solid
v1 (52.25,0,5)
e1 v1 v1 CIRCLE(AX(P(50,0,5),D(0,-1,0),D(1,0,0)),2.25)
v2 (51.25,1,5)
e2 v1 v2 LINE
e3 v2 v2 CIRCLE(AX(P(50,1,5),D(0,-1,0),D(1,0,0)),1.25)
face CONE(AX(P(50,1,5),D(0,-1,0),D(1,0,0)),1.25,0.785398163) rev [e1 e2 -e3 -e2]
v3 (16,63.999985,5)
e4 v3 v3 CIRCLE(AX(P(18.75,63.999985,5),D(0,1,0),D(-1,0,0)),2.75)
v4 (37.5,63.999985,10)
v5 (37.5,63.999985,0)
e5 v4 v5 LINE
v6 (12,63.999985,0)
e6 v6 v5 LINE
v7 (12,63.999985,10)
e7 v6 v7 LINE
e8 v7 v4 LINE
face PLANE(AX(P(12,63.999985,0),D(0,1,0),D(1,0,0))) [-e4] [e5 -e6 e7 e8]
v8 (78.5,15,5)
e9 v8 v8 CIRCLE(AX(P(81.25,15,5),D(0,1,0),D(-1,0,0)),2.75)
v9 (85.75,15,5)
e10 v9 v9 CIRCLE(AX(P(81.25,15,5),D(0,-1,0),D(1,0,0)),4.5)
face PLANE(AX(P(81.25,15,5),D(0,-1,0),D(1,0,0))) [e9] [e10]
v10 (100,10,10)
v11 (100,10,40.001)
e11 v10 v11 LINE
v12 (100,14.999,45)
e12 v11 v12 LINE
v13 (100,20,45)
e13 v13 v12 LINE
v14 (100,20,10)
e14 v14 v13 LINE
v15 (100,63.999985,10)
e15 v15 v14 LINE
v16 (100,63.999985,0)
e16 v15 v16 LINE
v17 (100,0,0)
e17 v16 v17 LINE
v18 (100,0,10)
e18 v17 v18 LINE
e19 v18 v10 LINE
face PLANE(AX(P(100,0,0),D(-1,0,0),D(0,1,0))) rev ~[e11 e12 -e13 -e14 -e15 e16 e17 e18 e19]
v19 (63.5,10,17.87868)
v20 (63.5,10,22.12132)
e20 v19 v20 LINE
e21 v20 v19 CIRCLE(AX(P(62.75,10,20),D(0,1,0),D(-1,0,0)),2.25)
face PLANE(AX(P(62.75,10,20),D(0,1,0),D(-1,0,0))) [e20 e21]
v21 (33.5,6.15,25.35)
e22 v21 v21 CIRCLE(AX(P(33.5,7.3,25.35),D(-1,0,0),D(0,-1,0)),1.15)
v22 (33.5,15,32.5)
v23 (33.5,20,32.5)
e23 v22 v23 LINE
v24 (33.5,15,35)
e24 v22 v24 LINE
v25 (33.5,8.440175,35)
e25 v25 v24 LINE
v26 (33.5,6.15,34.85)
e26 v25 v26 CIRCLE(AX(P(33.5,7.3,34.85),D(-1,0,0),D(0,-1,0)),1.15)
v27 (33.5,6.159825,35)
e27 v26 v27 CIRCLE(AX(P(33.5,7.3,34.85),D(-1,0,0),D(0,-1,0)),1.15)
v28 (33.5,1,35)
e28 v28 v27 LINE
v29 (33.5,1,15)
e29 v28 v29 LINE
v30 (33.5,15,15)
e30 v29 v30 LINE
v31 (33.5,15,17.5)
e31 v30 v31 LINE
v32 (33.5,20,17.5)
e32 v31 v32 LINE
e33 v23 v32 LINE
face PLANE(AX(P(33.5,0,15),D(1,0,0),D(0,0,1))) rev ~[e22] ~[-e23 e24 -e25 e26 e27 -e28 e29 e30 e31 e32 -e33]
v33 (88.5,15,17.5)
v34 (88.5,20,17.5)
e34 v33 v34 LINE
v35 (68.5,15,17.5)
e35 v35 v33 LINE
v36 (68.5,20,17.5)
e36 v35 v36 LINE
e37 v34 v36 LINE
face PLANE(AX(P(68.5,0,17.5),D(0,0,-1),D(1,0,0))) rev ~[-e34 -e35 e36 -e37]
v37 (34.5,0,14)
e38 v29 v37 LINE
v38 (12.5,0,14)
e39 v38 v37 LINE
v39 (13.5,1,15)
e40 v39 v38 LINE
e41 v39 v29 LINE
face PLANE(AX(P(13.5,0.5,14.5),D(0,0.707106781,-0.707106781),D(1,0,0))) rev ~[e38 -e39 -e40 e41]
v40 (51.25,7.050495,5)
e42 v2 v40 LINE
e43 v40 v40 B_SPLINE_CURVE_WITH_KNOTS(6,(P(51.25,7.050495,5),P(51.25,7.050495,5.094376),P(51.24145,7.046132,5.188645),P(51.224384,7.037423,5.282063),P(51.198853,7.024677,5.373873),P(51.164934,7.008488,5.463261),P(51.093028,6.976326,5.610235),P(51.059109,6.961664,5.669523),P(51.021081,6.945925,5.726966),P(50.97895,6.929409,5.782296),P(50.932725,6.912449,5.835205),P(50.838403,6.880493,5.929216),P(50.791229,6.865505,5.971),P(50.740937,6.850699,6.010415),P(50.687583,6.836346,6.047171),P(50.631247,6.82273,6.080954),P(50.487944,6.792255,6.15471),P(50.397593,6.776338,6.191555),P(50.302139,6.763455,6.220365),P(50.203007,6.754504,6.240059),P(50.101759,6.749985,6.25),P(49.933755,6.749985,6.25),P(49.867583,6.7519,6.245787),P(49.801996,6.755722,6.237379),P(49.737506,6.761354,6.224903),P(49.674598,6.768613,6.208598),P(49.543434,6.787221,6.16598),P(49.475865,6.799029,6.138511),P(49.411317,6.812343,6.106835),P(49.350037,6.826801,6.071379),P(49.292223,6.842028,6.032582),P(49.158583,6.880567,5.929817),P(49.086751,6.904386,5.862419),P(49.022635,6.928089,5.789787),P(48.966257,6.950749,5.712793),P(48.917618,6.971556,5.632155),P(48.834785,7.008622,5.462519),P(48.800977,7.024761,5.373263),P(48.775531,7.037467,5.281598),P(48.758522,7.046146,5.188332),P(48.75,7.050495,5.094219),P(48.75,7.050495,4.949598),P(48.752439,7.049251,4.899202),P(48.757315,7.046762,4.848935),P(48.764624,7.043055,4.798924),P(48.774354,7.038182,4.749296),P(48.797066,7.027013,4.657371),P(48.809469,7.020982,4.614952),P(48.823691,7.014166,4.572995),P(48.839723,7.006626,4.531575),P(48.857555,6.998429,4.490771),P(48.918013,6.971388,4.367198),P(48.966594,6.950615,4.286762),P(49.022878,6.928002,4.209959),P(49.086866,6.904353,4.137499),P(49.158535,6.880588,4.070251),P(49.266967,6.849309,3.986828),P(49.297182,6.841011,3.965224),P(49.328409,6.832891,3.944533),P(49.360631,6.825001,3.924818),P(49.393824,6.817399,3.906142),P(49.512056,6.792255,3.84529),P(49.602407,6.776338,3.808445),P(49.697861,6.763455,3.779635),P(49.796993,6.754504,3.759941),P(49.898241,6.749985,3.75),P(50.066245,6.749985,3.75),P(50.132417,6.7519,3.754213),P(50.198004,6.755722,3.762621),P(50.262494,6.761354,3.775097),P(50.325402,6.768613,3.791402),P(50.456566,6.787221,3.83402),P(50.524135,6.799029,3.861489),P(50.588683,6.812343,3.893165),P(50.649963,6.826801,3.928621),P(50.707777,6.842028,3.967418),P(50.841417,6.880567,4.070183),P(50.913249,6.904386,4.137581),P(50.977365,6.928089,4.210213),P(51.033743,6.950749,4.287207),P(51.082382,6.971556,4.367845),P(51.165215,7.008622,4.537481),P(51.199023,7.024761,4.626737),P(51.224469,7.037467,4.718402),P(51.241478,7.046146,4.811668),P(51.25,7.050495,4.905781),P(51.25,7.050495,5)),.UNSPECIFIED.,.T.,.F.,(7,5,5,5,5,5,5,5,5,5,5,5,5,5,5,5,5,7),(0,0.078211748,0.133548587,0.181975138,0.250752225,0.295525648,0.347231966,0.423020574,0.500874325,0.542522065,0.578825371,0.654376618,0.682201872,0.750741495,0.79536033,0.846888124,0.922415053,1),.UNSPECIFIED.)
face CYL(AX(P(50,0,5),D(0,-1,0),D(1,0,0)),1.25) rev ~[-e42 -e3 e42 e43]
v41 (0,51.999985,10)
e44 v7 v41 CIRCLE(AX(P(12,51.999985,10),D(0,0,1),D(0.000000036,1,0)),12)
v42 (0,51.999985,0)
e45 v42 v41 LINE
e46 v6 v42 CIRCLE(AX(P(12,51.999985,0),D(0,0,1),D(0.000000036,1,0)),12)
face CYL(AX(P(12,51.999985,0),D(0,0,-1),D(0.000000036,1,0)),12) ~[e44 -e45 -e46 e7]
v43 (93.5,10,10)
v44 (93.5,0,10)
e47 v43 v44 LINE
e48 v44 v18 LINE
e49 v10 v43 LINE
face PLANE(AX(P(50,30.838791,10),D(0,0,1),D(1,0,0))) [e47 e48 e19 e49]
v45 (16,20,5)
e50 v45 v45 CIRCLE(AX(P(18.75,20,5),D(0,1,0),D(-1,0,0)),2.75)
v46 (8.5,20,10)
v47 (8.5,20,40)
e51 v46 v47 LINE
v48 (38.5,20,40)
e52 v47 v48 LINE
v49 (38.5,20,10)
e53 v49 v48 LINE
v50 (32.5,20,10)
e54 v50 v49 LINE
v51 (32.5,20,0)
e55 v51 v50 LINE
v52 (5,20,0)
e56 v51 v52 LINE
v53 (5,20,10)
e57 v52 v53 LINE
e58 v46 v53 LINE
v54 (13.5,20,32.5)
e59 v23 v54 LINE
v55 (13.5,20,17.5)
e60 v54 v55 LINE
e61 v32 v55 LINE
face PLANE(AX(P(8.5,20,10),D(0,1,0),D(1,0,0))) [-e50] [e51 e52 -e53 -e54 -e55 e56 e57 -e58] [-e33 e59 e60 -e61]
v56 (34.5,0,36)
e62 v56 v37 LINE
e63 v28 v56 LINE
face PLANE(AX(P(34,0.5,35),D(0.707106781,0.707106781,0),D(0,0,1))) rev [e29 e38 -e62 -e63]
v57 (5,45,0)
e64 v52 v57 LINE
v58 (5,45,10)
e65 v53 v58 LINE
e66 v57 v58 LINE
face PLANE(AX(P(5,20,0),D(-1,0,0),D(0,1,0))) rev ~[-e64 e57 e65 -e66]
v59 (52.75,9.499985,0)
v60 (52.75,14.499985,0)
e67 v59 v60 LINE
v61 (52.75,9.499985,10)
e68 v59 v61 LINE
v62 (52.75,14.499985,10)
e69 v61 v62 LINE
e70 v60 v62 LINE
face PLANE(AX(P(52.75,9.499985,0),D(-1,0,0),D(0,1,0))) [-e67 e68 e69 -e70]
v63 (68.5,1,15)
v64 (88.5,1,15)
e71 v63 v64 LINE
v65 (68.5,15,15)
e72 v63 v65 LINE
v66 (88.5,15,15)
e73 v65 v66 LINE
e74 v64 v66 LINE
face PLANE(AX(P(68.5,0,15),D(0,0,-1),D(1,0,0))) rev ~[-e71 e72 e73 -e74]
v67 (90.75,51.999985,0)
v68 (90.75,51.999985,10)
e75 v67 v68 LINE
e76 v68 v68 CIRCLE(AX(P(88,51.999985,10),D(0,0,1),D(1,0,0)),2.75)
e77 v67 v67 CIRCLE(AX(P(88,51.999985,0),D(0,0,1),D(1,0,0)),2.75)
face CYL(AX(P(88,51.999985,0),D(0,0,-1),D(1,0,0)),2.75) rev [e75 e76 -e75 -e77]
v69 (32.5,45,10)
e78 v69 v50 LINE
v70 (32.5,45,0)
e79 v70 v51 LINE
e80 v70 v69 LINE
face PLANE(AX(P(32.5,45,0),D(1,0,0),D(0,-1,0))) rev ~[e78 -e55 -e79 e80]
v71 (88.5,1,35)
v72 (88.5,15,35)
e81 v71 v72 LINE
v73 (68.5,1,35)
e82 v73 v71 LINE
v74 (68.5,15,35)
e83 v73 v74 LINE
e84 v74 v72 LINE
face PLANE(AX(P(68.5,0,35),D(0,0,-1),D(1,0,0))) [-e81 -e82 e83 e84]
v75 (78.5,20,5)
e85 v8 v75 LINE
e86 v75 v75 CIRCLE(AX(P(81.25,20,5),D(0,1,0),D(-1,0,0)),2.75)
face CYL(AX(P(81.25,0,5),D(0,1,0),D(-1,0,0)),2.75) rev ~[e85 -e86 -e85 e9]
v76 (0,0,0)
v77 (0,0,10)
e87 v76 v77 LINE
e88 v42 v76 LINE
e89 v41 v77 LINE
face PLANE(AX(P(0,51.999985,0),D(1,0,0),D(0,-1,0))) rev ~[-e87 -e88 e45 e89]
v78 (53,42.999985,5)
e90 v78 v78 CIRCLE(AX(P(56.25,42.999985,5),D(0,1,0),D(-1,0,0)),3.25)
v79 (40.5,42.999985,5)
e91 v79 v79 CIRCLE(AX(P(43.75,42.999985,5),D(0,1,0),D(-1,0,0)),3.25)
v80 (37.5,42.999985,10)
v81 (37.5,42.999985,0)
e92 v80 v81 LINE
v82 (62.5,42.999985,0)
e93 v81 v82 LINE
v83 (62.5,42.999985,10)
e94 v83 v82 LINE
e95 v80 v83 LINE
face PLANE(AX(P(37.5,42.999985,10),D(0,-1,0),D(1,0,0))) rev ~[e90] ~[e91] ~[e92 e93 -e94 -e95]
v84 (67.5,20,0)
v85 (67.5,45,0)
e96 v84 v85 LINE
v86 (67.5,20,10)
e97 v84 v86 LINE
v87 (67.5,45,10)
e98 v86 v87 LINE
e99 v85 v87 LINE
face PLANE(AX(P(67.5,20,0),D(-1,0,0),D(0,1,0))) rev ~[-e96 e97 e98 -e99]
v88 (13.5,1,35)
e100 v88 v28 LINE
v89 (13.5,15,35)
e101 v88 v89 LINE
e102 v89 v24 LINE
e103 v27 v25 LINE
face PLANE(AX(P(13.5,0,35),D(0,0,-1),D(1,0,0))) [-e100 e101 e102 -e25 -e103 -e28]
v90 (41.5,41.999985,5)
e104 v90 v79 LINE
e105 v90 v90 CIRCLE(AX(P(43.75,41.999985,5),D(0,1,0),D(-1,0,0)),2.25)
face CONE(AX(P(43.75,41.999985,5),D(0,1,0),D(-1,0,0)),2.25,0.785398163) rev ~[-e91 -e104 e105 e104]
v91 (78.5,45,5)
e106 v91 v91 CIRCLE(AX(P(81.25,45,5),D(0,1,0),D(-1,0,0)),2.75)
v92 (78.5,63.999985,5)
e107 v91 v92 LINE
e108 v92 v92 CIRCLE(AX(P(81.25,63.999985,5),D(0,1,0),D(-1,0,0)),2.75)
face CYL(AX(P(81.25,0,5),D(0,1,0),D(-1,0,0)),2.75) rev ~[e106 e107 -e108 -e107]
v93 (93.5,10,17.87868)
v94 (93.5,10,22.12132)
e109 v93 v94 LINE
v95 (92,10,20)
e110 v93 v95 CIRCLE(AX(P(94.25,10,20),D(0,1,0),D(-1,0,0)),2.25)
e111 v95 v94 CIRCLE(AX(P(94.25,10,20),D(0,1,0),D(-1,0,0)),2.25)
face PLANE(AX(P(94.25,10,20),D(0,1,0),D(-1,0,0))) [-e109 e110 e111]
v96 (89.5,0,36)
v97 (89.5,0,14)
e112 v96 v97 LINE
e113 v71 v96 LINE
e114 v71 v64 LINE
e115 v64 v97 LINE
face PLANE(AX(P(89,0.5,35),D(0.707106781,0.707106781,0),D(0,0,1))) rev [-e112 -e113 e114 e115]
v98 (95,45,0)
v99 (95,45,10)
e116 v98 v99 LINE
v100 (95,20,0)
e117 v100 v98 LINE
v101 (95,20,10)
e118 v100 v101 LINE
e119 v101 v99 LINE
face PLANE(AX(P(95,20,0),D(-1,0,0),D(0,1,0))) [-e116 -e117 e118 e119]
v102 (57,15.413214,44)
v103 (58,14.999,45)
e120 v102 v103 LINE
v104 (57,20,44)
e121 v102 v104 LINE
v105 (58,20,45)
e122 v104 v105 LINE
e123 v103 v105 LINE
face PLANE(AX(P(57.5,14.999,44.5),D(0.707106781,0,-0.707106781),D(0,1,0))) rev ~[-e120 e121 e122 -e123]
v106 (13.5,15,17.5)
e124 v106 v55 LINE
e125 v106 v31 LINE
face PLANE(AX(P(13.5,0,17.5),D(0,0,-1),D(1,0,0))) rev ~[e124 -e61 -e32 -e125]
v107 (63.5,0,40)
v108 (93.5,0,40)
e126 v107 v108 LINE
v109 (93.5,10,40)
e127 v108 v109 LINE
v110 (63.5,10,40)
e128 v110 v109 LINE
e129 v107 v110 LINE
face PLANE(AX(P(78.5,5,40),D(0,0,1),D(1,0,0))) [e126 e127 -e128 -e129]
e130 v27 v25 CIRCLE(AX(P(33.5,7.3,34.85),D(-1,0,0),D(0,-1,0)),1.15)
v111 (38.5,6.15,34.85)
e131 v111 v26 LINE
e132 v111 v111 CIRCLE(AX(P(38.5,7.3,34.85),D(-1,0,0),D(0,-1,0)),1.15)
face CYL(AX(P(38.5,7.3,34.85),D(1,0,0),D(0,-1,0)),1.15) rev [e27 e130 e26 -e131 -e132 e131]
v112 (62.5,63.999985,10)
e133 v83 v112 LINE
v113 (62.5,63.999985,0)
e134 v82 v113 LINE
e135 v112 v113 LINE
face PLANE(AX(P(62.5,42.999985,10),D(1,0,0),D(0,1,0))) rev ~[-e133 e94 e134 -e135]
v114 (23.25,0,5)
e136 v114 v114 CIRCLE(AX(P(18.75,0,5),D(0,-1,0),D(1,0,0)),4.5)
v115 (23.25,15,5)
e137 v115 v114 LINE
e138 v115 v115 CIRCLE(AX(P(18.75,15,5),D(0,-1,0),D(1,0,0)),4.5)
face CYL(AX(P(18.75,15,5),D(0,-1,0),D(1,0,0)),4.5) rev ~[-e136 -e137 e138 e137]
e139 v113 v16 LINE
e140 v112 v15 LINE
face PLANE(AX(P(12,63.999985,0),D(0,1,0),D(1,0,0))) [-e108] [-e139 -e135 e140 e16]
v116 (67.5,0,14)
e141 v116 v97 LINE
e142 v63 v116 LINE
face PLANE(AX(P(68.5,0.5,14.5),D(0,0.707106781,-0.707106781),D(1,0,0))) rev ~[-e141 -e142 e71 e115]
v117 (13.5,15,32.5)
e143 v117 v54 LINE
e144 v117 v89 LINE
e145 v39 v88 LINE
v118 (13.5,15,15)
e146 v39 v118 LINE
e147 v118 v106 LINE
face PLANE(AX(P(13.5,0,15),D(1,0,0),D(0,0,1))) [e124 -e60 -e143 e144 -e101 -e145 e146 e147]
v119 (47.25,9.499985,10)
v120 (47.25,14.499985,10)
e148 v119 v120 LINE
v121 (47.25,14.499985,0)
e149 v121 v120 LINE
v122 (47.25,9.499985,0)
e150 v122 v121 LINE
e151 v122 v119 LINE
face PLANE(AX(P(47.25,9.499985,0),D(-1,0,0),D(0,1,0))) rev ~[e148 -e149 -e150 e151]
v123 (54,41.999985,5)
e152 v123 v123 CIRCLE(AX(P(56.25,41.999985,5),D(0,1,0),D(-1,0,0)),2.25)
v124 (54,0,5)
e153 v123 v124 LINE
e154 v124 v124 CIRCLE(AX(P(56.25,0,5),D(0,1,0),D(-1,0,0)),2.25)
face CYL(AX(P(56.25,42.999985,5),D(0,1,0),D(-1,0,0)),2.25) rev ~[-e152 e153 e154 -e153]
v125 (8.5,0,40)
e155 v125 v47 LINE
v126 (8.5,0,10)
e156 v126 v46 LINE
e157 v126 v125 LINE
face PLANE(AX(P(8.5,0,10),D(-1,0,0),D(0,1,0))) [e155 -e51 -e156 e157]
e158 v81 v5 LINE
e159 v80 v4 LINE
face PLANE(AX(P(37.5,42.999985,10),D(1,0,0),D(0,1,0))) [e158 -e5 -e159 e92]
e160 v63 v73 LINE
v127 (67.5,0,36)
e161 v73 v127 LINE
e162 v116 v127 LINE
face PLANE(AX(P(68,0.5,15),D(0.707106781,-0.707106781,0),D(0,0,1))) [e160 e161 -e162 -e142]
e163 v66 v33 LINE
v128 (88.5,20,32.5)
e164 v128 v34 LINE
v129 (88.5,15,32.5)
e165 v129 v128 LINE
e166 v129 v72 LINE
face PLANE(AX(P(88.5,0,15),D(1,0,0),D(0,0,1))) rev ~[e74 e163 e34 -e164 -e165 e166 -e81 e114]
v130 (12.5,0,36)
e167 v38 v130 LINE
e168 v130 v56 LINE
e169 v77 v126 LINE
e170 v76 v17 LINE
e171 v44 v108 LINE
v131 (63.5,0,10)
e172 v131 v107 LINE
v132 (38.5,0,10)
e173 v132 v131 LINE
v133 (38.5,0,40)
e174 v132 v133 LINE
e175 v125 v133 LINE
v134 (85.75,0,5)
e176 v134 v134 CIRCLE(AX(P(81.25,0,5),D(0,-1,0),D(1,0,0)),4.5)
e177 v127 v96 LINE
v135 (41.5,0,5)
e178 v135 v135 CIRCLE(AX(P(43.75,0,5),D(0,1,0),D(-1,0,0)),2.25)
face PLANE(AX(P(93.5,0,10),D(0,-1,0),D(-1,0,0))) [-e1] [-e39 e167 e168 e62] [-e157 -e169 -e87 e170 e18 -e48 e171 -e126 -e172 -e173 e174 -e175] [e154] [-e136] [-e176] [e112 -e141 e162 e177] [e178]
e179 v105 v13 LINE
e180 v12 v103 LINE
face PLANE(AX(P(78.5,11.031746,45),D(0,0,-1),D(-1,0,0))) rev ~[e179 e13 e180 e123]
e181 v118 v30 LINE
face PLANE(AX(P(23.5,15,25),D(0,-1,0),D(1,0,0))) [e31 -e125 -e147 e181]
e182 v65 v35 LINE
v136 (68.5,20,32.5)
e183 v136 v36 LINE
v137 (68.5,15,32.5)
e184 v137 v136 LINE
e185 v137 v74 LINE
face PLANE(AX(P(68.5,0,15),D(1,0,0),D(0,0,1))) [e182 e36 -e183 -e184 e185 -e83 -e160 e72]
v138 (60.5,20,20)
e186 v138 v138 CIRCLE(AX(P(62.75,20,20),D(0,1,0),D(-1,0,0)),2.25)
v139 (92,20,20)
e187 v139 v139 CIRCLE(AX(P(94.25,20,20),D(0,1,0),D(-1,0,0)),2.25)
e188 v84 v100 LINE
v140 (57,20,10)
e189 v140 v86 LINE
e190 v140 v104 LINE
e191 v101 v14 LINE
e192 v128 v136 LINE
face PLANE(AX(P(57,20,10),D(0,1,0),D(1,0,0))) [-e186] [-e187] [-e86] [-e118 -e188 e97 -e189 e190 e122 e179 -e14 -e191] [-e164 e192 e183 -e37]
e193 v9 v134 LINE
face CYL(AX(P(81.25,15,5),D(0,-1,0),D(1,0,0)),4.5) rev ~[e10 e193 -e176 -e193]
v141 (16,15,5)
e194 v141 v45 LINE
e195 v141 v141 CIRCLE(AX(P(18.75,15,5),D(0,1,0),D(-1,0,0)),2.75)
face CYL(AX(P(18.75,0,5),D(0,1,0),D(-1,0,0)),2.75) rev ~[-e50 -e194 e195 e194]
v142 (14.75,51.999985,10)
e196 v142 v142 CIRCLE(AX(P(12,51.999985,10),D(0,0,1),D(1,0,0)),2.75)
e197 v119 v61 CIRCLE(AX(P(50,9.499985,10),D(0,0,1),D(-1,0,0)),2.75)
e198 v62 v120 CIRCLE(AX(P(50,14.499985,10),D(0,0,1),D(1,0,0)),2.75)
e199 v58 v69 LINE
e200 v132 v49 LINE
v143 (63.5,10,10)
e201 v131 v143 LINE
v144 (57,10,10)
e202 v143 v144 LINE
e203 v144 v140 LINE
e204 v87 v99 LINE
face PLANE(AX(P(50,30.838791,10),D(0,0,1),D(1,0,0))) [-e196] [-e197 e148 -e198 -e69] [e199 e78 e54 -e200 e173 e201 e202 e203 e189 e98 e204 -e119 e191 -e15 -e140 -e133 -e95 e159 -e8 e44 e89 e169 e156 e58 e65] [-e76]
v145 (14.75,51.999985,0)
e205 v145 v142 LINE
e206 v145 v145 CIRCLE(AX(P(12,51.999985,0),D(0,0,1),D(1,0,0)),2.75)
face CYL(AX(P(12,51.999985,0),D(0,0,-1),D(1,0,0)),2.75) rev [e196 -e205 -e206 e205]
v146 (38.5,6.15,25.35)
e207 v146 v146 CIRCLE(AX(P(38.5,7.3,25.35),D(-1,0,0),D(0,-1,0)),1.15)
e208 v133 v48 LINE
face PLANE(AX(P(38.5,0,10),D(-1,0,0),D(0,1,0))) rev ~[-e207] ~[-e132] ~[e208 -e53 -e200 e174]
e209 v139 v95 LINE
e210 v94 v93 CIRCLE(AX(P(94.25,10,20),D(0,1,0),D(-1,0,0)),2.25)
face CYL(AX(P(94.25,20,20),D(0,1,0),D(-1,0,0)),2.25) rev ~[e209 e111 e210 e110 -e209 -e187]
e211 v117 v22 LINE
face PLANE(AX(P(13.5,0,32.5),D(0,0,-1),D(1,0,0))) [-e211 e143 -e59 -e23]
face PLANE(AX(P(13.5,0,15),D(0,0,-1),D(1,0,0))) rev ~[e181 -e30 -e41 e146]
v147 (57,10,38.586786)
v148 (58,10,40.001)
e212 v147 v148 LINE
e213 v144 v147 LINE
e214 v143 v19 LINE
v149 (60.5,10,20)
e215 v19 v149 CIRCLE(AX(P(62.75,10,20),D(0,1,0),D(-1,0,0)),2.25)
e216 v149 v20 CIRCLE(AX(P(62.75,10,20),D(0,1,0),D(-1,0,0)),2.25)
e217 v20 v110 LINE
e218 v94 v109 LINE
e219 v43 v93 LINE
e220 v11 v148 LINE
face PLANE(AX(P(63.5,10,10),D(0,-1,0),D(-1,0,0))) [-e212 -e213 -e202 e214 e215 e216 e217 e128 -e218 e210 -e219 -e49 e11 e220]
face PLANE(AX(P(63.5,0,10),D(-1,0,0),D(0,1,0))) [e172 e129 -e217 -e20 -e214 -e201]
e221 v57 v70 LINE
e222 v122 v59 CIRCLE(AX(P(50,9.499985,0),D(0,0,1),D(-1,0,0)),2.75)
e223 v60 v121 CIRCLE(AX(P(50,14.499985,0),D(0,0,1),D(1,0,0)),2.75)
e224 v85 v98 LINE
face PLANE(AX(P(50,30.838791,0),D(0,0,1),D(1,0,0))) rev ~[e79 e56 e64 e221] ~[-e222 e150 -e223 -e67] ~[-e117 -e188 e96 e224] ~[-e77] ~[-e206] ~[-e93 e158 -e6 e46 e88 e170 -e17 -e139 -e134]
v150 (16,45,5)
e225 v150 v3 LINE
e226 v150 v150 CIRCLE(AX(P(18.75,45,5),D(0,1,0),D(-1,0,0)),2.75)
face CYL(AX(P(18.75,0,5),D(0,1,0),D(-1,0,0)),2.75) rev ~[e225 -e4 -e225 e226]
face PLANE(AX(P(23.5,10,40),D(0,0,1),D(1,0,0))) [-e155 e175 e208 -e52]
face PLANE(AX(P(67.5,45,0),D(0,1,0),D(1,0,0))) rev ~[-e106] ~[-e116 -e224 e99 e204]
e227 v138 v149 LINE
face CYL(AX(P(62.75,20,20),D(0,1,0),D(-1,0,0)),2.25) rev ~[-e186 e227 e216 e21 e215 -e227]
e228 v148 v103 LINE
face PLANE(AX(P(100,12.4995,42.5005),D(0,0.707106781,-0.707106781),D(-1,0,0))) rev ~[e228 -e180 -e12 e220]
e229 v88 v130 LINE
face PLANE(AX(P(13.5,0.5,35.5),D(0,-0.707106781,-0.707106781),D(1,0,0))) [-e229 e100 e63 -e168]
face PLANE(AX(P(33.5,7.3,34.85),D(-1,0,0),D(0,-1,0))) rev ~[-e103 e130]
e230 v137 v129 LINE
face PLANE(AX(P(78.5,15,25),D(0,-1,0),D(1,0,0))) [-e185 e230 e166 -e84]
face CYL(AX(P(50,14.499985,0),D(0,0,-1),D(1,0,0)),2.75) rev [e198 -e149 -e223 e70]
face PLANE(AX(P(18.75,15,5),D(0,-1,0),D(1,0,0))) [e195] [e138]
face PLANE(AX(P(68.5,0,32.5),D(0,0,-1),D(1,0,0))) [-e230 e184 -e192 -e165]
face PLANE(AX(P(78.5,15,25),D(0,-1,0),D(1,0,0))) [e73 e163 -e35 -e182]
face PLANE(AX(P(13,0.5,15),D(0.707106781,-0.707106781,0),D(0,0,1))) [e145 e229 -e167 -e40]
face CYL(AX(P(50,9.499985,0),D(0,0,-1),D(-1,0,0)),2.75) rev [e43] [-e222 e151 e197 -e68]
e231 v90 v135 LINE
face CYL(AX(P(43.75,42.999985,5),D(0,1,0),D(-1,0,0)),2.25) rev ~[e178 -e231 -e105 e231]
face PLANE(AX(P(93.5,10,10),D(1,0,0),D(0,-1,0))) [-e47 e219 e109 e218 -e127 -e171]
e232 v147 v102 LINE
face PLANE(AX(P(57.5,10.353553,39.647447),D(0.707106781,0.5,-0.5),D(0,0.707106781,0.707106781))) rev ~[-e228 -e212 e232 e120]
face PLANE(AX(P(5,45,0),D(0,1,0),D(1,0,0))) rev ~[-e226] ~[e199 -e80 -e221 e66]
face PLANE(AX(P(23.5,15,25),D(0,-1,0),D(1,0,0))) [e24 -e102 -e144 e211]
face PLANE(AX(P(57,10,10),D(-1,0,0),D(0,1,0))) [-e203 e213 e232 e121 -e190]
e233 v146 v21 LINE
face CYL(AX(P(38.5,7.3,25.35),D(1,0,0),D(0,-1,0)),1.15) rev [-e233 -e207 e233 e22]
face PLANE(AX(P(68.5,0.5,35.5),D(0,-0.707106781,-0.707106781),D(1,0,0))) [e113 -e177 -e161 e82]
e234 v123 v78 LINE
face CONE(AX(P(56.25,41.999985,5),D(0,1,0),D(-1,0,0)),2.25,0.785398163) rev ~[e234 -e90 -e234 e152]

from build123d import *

# Parameters (mm, degrees)
SKETCH_R         = 2.75
SKETCH_W         = 27.5
SKETCH_H         = 25
PAD_DEPTH        = 10
SKETCH001_W      = 30
SKETCH001_H      = 20
PAD001_DEPTH     = 30
PAD002_DEPTH     = 35
SKETCH003_W      = 20
SKETCH003_H      = 20
POCKET_DEPTH     = 15
SKETCH004_W      = 20
SKETCH004_H      = 15
POCKET001_DEPTH  = 64.000985
HOLE_D           = 5.5
HOLE_CBORE_D     = 9
HOLE_CBORE_DEPTH = 15
POCKET003_DEPTH  = 10.001
SKETCH011_W      = 30
SKETCH011_H      = 10
POCKET004_DEPTH  = 5
CHAMFER_SIZE     = 4.999
SKETCH012_R      = 2.25
HOLE001_DEPTH    = 10
SKETCH013_W      = 25
SKETCH013_H      = 21
POCKET005_DEPTH  = 10.001
SKETCH014_R      = 2.25
HOLE002_DEPTH    = 43.000985
SKETCH015_R      = 1.15
POCKET006_DEPTH  = 5
PAD003_DEPTH     = 10
CHAMFER001_SIZE  = 1
SKETCH017_R      = 1.25
HOLE003_DEPTH    = 10
HOLE003_TIPS_R   = 1.25
CHAMFER002_SIZE  = 1


with BuildPart() as part:
    # Sketch → Pad (new body)
    with BuildSketch(Plane.XY):
        with BuildLine():
            Line((100, 0), (100, 51.999985))
            ThreePointArc((100, 51.999985), (96.485281, 60.485267), (88, 63.999985))
            Line((12, 63.999985), (88, 63.999985))
            ThreePointArc((12, 63.999985), (3.514719, 60.485267), (0, 51.999985))
            Line((0, 51.999985), (0, 0))
            Line((0, 0), (100, 0))
        make_face()
        with Locations((12, 51.999985)):
            Circle(SKETCH_R, mode=Mode.SUBTRACT)
        with Locations((88, 51.999985)):
            Circle(SKETCH_R, mode=Mode.SUBTRACT)
        Polygon((32.5, 45), (32.5, 20), (5, 20), (5, 45), (18.75, 45), align=None, mode=Mode.SUBTRACT)
        with Locations((81.25, 32.5)):
            Rectangle(SKETCH_W, SKETCH_H, mode=Mode.SUBTRACT)
        with BuildLine():
            ThreePointArc((47.25, 9.499985), (50, 6.749985), (52.75, 9.499985))
            Line((52.75, 9.499985), (52.75, 14.499985))
            ThreePointArc((52.75, 14.499985), (50, 17.249985), (47.25, 14.499985))
            Line((47.25, 9.499985), (47.25, 14.499985))
        make_face(mode=Mode.SUBTRACT)
    extrude(amount=PAD_DEPTH)

    # Sketch001 (on Face23 of Pad) → Pad001 (join)
    with BuildSketch(Plane.XY.offset(10)):
        with Locations((23.5, 10)):
            Rectangle(SKETCH001_W, SKETCH001_H)
    extrude(amount=PAD001_DEPTH)

    # Sketch002 (on Face5 of Pad001) → Pad002 (join)
    with BuildSketch(Plane.XY.offset(10)):
        Polygon((63.5, 10), (57, 10), (57, 20), (100, 20), (100, 10), (93.5, 10), (93.5, 0), (63.5, 0), align=None)
    extrude(amount=PAD002_DEPTH)

    # Sketch003 (on Face9 of Pad002) → Pocket (cut)
    with BuildSketch(Plane.XZ):
        with Locations((23.5, 25)):
            Rectangle(SKETCH003_W, SKETCH003_H)
        with Locations((78.5, 25)):
            Rectangle(SKETCH003_W, SKETCH003_H)
    extrude(amount=-POCKET_DEPTH, mode=Mode.SUBTRACT)

    # Sketch004 (on Face9 of Pocket) → Pocket001 (cut, through all)
    with BuildSketch(Plane.XZ):
        with Locations((23.5, 25)):
            Rectangle(SKETCH004_W, SKETCH004_H)
        with Locations((78.5, 25)):
            Rectangle(SKETCH004_W, SKETCH004_H)
    extrude(amount=-POCKET001_DEPTH, mode=Mode.SUBTRACT)

    # Hole (through all)
    with Locations(Plane.XZ):
        with Locations((81.25, 5), (18.75, 5)):
            CounterBoreHole(HOLE_D / 2, HOLE_CBORE_D / 2, HOLE_CBORE_DEPTH)

    # Sketch010 → Pocket003 (cut, through all)
    with BuildSketch(Plane.XY.offset(10)):
        with BuildLine():
            ThreePointArc((47.748891, 59.001218), (44.998891, 61.751218), (42.248891, 59.001218))
            Line((42.248891, 59.001218), (42.248891, 54.001218))
            ThreePointArc((42.248891, 54.001218), (44.998891, 51.251218), (47.748891, 54.001218))
            Line((47.748891, 59.001218), (47.748891, 54.001218))
        make_face()
        with BuildLine():
            ThreePointArc((57.748891, 59.001218), (54.998891, 61.751218), (52.248891, 59.001218))
            Line((52.248891, 59.001218), (52.248891, 54.001218))
            ThreePointArc((52.248891, 54.001218), (54.998891, 51.251218), (57.748891, 54.001218))
            Line((57.748891, 59.001218), (57.748891, 54.001218))
        make_face()
    extrude(amount=-POCKET003_DEPTH, mode=Mode.SUBTRACT)

    # Sketch011 (on Face41 of Pocket003) → Pocket004 (cut)
    with BuildSketch(Plane.XY.offset(45)):
        with Locations((78.5, 5)):
            Rectangle(SKETCH011_W, SKETCH011_H)
    extrude(amount=-POCKET004_DEPTH, mode=Mode.SUBTRACT)

    # Chamfer
    chamfer_edges = [part.edges().sort_by_distance(p)[0] for p in [
        (60.25, 10, 45),
        (78.5, 10, 45),
        (96.75, 10, 45),
    ]]
    chamfer(chamfer_edges, length=CHAMFER_SIZE)

    # Sketch012 (on Face6 of Chamfer) → Hole001 (cut)
    with BuildSketch(Plane(origin=(0, 20, 0), x_dir=(-1, 0, 0), z_dir=(0, 1, 0))):
        with Locations((-94.25, 20)):
            Circle(SKETCH012_R)
        with Locations((-62.75, 20)):
            Circle(SKETCH012_R)
    extrude(amount=-HOLE001_DEPTH, mode=Mode.SUBTRACT)

    # Sketch013 (on Face15 of Hole001) → Pocket005 (cut, through all)
    with BuildSketch(Plane.XY.offset(10)):
        with Locations((50, 53.499985)):
            Rectangle(SKETCH013_W, SKETCH013_H)
    extrude(amount=-POCKET005_DEPTH, mode=Mode.SUBTRACT)

    # Sketch014 (on Face36 of Pocket005) → Hole002 (cut, through all)
    with BuildSketch(Plane(origin=(0, 42.999985, 0), x_dir=(-1, 0, 0), z_dir=(0, 1, 0))):
        with Locations((-56.25, 5)):
            Circle(SKETCH014_R)
        with Locations((-43.75, 5)):
            Circle(SKETCH014_R)
    extrude(amount=-HOLE002_DEPTH, mode=Mode.SUBTRACT)

    # Sketch015 (on Face55 of Hole002) → Pocket006 (cut)
    with BuildSketch(Plane(origin=(38.5, 0, 0), x_dir=(0, -1, 0), z_dir=(-1, 0, 0))):
        with Locations((-7.3, 34.85)):
            Circle(SKETCH015_R)
        with Locations((-7.3, 25.35)):
            Circle(SKETCH015_R)
    extrude(amount=POCKET006_DEPTH, mode=Mode.SUBTRACT)

    # Sketch016 (on Face15 of Pocket006) → Pad003 (join)
    with BuildSketch(Plane.XY.offset(10)):
        Polygon((100, 51.999985), (88, 63.999985), (100, 63.999985), align=None)
    extrude(amount=-PAD003_DEPTH)

    # Chamfer001
    chamfer001_edges = [part.edges().sort_by_distance(p)[0] for p in [
        (13.5, 0, 25),
        (13.5, 0, 33.75),
        (23.5, 0, 35),
        (13.5, 0, 16.25),
        (23.5, 0, 15),
        (33.5, 0, 25),
        (33.5, 0, 33.75),
        (33.5, 0, 16.25),
        (68.5, 0, 25),
        (68.5, 0, 16.25),
        (68.5, 0, 33.75),
        (78.5, 0, 35),
        (88.5, 0, 33.75),
        (88.5, 0, 25),
        (88.5, 0, 16.25),
        (78.5, 0, 15),
    ]]
    chamfer(chamfer001_edges, length=CHAMFER001_SIZE)

    # Sketch017 (on Face10 of Chamfer001) → Hole003 (cut)
    with BuildSketch(Plane.XZ):
        with Locations((50, 5)):
            Circle(SKETCH017_R)
    extrude(amount=-HOLE003_DEPTH, mode=Mode.SUBTRACT)

    # Hole003 tips → Hole003 tip 1 section 0
    with BuildSketch(Plane.XZ.offset(-10), mode=Mode.PRIVATE) as hole003_tip_1_s0:
        with Locations((50, 5)):
            Circle(HOLE003_TIPS_R)
    loft([hole003_tip_1_s0.sketch, Vertex(50, 10.751076, 5)], mode=Mode.SUBTRACT)

    # Chamfer002
    chamfer002_edges = [part.edges().sort_by_distance(p)[0] for p in [
        (51.25, 0, 5),
        (57, 17.4995, 45),
        (41.5, 42.999985, 5),
        (54, 42.999985, 5),
        (57, 12.4995, 42.5005),
    ]]
    chamfer(chamfer002_edges, length=CHAMFER002_SIZE)


solid = part.part
